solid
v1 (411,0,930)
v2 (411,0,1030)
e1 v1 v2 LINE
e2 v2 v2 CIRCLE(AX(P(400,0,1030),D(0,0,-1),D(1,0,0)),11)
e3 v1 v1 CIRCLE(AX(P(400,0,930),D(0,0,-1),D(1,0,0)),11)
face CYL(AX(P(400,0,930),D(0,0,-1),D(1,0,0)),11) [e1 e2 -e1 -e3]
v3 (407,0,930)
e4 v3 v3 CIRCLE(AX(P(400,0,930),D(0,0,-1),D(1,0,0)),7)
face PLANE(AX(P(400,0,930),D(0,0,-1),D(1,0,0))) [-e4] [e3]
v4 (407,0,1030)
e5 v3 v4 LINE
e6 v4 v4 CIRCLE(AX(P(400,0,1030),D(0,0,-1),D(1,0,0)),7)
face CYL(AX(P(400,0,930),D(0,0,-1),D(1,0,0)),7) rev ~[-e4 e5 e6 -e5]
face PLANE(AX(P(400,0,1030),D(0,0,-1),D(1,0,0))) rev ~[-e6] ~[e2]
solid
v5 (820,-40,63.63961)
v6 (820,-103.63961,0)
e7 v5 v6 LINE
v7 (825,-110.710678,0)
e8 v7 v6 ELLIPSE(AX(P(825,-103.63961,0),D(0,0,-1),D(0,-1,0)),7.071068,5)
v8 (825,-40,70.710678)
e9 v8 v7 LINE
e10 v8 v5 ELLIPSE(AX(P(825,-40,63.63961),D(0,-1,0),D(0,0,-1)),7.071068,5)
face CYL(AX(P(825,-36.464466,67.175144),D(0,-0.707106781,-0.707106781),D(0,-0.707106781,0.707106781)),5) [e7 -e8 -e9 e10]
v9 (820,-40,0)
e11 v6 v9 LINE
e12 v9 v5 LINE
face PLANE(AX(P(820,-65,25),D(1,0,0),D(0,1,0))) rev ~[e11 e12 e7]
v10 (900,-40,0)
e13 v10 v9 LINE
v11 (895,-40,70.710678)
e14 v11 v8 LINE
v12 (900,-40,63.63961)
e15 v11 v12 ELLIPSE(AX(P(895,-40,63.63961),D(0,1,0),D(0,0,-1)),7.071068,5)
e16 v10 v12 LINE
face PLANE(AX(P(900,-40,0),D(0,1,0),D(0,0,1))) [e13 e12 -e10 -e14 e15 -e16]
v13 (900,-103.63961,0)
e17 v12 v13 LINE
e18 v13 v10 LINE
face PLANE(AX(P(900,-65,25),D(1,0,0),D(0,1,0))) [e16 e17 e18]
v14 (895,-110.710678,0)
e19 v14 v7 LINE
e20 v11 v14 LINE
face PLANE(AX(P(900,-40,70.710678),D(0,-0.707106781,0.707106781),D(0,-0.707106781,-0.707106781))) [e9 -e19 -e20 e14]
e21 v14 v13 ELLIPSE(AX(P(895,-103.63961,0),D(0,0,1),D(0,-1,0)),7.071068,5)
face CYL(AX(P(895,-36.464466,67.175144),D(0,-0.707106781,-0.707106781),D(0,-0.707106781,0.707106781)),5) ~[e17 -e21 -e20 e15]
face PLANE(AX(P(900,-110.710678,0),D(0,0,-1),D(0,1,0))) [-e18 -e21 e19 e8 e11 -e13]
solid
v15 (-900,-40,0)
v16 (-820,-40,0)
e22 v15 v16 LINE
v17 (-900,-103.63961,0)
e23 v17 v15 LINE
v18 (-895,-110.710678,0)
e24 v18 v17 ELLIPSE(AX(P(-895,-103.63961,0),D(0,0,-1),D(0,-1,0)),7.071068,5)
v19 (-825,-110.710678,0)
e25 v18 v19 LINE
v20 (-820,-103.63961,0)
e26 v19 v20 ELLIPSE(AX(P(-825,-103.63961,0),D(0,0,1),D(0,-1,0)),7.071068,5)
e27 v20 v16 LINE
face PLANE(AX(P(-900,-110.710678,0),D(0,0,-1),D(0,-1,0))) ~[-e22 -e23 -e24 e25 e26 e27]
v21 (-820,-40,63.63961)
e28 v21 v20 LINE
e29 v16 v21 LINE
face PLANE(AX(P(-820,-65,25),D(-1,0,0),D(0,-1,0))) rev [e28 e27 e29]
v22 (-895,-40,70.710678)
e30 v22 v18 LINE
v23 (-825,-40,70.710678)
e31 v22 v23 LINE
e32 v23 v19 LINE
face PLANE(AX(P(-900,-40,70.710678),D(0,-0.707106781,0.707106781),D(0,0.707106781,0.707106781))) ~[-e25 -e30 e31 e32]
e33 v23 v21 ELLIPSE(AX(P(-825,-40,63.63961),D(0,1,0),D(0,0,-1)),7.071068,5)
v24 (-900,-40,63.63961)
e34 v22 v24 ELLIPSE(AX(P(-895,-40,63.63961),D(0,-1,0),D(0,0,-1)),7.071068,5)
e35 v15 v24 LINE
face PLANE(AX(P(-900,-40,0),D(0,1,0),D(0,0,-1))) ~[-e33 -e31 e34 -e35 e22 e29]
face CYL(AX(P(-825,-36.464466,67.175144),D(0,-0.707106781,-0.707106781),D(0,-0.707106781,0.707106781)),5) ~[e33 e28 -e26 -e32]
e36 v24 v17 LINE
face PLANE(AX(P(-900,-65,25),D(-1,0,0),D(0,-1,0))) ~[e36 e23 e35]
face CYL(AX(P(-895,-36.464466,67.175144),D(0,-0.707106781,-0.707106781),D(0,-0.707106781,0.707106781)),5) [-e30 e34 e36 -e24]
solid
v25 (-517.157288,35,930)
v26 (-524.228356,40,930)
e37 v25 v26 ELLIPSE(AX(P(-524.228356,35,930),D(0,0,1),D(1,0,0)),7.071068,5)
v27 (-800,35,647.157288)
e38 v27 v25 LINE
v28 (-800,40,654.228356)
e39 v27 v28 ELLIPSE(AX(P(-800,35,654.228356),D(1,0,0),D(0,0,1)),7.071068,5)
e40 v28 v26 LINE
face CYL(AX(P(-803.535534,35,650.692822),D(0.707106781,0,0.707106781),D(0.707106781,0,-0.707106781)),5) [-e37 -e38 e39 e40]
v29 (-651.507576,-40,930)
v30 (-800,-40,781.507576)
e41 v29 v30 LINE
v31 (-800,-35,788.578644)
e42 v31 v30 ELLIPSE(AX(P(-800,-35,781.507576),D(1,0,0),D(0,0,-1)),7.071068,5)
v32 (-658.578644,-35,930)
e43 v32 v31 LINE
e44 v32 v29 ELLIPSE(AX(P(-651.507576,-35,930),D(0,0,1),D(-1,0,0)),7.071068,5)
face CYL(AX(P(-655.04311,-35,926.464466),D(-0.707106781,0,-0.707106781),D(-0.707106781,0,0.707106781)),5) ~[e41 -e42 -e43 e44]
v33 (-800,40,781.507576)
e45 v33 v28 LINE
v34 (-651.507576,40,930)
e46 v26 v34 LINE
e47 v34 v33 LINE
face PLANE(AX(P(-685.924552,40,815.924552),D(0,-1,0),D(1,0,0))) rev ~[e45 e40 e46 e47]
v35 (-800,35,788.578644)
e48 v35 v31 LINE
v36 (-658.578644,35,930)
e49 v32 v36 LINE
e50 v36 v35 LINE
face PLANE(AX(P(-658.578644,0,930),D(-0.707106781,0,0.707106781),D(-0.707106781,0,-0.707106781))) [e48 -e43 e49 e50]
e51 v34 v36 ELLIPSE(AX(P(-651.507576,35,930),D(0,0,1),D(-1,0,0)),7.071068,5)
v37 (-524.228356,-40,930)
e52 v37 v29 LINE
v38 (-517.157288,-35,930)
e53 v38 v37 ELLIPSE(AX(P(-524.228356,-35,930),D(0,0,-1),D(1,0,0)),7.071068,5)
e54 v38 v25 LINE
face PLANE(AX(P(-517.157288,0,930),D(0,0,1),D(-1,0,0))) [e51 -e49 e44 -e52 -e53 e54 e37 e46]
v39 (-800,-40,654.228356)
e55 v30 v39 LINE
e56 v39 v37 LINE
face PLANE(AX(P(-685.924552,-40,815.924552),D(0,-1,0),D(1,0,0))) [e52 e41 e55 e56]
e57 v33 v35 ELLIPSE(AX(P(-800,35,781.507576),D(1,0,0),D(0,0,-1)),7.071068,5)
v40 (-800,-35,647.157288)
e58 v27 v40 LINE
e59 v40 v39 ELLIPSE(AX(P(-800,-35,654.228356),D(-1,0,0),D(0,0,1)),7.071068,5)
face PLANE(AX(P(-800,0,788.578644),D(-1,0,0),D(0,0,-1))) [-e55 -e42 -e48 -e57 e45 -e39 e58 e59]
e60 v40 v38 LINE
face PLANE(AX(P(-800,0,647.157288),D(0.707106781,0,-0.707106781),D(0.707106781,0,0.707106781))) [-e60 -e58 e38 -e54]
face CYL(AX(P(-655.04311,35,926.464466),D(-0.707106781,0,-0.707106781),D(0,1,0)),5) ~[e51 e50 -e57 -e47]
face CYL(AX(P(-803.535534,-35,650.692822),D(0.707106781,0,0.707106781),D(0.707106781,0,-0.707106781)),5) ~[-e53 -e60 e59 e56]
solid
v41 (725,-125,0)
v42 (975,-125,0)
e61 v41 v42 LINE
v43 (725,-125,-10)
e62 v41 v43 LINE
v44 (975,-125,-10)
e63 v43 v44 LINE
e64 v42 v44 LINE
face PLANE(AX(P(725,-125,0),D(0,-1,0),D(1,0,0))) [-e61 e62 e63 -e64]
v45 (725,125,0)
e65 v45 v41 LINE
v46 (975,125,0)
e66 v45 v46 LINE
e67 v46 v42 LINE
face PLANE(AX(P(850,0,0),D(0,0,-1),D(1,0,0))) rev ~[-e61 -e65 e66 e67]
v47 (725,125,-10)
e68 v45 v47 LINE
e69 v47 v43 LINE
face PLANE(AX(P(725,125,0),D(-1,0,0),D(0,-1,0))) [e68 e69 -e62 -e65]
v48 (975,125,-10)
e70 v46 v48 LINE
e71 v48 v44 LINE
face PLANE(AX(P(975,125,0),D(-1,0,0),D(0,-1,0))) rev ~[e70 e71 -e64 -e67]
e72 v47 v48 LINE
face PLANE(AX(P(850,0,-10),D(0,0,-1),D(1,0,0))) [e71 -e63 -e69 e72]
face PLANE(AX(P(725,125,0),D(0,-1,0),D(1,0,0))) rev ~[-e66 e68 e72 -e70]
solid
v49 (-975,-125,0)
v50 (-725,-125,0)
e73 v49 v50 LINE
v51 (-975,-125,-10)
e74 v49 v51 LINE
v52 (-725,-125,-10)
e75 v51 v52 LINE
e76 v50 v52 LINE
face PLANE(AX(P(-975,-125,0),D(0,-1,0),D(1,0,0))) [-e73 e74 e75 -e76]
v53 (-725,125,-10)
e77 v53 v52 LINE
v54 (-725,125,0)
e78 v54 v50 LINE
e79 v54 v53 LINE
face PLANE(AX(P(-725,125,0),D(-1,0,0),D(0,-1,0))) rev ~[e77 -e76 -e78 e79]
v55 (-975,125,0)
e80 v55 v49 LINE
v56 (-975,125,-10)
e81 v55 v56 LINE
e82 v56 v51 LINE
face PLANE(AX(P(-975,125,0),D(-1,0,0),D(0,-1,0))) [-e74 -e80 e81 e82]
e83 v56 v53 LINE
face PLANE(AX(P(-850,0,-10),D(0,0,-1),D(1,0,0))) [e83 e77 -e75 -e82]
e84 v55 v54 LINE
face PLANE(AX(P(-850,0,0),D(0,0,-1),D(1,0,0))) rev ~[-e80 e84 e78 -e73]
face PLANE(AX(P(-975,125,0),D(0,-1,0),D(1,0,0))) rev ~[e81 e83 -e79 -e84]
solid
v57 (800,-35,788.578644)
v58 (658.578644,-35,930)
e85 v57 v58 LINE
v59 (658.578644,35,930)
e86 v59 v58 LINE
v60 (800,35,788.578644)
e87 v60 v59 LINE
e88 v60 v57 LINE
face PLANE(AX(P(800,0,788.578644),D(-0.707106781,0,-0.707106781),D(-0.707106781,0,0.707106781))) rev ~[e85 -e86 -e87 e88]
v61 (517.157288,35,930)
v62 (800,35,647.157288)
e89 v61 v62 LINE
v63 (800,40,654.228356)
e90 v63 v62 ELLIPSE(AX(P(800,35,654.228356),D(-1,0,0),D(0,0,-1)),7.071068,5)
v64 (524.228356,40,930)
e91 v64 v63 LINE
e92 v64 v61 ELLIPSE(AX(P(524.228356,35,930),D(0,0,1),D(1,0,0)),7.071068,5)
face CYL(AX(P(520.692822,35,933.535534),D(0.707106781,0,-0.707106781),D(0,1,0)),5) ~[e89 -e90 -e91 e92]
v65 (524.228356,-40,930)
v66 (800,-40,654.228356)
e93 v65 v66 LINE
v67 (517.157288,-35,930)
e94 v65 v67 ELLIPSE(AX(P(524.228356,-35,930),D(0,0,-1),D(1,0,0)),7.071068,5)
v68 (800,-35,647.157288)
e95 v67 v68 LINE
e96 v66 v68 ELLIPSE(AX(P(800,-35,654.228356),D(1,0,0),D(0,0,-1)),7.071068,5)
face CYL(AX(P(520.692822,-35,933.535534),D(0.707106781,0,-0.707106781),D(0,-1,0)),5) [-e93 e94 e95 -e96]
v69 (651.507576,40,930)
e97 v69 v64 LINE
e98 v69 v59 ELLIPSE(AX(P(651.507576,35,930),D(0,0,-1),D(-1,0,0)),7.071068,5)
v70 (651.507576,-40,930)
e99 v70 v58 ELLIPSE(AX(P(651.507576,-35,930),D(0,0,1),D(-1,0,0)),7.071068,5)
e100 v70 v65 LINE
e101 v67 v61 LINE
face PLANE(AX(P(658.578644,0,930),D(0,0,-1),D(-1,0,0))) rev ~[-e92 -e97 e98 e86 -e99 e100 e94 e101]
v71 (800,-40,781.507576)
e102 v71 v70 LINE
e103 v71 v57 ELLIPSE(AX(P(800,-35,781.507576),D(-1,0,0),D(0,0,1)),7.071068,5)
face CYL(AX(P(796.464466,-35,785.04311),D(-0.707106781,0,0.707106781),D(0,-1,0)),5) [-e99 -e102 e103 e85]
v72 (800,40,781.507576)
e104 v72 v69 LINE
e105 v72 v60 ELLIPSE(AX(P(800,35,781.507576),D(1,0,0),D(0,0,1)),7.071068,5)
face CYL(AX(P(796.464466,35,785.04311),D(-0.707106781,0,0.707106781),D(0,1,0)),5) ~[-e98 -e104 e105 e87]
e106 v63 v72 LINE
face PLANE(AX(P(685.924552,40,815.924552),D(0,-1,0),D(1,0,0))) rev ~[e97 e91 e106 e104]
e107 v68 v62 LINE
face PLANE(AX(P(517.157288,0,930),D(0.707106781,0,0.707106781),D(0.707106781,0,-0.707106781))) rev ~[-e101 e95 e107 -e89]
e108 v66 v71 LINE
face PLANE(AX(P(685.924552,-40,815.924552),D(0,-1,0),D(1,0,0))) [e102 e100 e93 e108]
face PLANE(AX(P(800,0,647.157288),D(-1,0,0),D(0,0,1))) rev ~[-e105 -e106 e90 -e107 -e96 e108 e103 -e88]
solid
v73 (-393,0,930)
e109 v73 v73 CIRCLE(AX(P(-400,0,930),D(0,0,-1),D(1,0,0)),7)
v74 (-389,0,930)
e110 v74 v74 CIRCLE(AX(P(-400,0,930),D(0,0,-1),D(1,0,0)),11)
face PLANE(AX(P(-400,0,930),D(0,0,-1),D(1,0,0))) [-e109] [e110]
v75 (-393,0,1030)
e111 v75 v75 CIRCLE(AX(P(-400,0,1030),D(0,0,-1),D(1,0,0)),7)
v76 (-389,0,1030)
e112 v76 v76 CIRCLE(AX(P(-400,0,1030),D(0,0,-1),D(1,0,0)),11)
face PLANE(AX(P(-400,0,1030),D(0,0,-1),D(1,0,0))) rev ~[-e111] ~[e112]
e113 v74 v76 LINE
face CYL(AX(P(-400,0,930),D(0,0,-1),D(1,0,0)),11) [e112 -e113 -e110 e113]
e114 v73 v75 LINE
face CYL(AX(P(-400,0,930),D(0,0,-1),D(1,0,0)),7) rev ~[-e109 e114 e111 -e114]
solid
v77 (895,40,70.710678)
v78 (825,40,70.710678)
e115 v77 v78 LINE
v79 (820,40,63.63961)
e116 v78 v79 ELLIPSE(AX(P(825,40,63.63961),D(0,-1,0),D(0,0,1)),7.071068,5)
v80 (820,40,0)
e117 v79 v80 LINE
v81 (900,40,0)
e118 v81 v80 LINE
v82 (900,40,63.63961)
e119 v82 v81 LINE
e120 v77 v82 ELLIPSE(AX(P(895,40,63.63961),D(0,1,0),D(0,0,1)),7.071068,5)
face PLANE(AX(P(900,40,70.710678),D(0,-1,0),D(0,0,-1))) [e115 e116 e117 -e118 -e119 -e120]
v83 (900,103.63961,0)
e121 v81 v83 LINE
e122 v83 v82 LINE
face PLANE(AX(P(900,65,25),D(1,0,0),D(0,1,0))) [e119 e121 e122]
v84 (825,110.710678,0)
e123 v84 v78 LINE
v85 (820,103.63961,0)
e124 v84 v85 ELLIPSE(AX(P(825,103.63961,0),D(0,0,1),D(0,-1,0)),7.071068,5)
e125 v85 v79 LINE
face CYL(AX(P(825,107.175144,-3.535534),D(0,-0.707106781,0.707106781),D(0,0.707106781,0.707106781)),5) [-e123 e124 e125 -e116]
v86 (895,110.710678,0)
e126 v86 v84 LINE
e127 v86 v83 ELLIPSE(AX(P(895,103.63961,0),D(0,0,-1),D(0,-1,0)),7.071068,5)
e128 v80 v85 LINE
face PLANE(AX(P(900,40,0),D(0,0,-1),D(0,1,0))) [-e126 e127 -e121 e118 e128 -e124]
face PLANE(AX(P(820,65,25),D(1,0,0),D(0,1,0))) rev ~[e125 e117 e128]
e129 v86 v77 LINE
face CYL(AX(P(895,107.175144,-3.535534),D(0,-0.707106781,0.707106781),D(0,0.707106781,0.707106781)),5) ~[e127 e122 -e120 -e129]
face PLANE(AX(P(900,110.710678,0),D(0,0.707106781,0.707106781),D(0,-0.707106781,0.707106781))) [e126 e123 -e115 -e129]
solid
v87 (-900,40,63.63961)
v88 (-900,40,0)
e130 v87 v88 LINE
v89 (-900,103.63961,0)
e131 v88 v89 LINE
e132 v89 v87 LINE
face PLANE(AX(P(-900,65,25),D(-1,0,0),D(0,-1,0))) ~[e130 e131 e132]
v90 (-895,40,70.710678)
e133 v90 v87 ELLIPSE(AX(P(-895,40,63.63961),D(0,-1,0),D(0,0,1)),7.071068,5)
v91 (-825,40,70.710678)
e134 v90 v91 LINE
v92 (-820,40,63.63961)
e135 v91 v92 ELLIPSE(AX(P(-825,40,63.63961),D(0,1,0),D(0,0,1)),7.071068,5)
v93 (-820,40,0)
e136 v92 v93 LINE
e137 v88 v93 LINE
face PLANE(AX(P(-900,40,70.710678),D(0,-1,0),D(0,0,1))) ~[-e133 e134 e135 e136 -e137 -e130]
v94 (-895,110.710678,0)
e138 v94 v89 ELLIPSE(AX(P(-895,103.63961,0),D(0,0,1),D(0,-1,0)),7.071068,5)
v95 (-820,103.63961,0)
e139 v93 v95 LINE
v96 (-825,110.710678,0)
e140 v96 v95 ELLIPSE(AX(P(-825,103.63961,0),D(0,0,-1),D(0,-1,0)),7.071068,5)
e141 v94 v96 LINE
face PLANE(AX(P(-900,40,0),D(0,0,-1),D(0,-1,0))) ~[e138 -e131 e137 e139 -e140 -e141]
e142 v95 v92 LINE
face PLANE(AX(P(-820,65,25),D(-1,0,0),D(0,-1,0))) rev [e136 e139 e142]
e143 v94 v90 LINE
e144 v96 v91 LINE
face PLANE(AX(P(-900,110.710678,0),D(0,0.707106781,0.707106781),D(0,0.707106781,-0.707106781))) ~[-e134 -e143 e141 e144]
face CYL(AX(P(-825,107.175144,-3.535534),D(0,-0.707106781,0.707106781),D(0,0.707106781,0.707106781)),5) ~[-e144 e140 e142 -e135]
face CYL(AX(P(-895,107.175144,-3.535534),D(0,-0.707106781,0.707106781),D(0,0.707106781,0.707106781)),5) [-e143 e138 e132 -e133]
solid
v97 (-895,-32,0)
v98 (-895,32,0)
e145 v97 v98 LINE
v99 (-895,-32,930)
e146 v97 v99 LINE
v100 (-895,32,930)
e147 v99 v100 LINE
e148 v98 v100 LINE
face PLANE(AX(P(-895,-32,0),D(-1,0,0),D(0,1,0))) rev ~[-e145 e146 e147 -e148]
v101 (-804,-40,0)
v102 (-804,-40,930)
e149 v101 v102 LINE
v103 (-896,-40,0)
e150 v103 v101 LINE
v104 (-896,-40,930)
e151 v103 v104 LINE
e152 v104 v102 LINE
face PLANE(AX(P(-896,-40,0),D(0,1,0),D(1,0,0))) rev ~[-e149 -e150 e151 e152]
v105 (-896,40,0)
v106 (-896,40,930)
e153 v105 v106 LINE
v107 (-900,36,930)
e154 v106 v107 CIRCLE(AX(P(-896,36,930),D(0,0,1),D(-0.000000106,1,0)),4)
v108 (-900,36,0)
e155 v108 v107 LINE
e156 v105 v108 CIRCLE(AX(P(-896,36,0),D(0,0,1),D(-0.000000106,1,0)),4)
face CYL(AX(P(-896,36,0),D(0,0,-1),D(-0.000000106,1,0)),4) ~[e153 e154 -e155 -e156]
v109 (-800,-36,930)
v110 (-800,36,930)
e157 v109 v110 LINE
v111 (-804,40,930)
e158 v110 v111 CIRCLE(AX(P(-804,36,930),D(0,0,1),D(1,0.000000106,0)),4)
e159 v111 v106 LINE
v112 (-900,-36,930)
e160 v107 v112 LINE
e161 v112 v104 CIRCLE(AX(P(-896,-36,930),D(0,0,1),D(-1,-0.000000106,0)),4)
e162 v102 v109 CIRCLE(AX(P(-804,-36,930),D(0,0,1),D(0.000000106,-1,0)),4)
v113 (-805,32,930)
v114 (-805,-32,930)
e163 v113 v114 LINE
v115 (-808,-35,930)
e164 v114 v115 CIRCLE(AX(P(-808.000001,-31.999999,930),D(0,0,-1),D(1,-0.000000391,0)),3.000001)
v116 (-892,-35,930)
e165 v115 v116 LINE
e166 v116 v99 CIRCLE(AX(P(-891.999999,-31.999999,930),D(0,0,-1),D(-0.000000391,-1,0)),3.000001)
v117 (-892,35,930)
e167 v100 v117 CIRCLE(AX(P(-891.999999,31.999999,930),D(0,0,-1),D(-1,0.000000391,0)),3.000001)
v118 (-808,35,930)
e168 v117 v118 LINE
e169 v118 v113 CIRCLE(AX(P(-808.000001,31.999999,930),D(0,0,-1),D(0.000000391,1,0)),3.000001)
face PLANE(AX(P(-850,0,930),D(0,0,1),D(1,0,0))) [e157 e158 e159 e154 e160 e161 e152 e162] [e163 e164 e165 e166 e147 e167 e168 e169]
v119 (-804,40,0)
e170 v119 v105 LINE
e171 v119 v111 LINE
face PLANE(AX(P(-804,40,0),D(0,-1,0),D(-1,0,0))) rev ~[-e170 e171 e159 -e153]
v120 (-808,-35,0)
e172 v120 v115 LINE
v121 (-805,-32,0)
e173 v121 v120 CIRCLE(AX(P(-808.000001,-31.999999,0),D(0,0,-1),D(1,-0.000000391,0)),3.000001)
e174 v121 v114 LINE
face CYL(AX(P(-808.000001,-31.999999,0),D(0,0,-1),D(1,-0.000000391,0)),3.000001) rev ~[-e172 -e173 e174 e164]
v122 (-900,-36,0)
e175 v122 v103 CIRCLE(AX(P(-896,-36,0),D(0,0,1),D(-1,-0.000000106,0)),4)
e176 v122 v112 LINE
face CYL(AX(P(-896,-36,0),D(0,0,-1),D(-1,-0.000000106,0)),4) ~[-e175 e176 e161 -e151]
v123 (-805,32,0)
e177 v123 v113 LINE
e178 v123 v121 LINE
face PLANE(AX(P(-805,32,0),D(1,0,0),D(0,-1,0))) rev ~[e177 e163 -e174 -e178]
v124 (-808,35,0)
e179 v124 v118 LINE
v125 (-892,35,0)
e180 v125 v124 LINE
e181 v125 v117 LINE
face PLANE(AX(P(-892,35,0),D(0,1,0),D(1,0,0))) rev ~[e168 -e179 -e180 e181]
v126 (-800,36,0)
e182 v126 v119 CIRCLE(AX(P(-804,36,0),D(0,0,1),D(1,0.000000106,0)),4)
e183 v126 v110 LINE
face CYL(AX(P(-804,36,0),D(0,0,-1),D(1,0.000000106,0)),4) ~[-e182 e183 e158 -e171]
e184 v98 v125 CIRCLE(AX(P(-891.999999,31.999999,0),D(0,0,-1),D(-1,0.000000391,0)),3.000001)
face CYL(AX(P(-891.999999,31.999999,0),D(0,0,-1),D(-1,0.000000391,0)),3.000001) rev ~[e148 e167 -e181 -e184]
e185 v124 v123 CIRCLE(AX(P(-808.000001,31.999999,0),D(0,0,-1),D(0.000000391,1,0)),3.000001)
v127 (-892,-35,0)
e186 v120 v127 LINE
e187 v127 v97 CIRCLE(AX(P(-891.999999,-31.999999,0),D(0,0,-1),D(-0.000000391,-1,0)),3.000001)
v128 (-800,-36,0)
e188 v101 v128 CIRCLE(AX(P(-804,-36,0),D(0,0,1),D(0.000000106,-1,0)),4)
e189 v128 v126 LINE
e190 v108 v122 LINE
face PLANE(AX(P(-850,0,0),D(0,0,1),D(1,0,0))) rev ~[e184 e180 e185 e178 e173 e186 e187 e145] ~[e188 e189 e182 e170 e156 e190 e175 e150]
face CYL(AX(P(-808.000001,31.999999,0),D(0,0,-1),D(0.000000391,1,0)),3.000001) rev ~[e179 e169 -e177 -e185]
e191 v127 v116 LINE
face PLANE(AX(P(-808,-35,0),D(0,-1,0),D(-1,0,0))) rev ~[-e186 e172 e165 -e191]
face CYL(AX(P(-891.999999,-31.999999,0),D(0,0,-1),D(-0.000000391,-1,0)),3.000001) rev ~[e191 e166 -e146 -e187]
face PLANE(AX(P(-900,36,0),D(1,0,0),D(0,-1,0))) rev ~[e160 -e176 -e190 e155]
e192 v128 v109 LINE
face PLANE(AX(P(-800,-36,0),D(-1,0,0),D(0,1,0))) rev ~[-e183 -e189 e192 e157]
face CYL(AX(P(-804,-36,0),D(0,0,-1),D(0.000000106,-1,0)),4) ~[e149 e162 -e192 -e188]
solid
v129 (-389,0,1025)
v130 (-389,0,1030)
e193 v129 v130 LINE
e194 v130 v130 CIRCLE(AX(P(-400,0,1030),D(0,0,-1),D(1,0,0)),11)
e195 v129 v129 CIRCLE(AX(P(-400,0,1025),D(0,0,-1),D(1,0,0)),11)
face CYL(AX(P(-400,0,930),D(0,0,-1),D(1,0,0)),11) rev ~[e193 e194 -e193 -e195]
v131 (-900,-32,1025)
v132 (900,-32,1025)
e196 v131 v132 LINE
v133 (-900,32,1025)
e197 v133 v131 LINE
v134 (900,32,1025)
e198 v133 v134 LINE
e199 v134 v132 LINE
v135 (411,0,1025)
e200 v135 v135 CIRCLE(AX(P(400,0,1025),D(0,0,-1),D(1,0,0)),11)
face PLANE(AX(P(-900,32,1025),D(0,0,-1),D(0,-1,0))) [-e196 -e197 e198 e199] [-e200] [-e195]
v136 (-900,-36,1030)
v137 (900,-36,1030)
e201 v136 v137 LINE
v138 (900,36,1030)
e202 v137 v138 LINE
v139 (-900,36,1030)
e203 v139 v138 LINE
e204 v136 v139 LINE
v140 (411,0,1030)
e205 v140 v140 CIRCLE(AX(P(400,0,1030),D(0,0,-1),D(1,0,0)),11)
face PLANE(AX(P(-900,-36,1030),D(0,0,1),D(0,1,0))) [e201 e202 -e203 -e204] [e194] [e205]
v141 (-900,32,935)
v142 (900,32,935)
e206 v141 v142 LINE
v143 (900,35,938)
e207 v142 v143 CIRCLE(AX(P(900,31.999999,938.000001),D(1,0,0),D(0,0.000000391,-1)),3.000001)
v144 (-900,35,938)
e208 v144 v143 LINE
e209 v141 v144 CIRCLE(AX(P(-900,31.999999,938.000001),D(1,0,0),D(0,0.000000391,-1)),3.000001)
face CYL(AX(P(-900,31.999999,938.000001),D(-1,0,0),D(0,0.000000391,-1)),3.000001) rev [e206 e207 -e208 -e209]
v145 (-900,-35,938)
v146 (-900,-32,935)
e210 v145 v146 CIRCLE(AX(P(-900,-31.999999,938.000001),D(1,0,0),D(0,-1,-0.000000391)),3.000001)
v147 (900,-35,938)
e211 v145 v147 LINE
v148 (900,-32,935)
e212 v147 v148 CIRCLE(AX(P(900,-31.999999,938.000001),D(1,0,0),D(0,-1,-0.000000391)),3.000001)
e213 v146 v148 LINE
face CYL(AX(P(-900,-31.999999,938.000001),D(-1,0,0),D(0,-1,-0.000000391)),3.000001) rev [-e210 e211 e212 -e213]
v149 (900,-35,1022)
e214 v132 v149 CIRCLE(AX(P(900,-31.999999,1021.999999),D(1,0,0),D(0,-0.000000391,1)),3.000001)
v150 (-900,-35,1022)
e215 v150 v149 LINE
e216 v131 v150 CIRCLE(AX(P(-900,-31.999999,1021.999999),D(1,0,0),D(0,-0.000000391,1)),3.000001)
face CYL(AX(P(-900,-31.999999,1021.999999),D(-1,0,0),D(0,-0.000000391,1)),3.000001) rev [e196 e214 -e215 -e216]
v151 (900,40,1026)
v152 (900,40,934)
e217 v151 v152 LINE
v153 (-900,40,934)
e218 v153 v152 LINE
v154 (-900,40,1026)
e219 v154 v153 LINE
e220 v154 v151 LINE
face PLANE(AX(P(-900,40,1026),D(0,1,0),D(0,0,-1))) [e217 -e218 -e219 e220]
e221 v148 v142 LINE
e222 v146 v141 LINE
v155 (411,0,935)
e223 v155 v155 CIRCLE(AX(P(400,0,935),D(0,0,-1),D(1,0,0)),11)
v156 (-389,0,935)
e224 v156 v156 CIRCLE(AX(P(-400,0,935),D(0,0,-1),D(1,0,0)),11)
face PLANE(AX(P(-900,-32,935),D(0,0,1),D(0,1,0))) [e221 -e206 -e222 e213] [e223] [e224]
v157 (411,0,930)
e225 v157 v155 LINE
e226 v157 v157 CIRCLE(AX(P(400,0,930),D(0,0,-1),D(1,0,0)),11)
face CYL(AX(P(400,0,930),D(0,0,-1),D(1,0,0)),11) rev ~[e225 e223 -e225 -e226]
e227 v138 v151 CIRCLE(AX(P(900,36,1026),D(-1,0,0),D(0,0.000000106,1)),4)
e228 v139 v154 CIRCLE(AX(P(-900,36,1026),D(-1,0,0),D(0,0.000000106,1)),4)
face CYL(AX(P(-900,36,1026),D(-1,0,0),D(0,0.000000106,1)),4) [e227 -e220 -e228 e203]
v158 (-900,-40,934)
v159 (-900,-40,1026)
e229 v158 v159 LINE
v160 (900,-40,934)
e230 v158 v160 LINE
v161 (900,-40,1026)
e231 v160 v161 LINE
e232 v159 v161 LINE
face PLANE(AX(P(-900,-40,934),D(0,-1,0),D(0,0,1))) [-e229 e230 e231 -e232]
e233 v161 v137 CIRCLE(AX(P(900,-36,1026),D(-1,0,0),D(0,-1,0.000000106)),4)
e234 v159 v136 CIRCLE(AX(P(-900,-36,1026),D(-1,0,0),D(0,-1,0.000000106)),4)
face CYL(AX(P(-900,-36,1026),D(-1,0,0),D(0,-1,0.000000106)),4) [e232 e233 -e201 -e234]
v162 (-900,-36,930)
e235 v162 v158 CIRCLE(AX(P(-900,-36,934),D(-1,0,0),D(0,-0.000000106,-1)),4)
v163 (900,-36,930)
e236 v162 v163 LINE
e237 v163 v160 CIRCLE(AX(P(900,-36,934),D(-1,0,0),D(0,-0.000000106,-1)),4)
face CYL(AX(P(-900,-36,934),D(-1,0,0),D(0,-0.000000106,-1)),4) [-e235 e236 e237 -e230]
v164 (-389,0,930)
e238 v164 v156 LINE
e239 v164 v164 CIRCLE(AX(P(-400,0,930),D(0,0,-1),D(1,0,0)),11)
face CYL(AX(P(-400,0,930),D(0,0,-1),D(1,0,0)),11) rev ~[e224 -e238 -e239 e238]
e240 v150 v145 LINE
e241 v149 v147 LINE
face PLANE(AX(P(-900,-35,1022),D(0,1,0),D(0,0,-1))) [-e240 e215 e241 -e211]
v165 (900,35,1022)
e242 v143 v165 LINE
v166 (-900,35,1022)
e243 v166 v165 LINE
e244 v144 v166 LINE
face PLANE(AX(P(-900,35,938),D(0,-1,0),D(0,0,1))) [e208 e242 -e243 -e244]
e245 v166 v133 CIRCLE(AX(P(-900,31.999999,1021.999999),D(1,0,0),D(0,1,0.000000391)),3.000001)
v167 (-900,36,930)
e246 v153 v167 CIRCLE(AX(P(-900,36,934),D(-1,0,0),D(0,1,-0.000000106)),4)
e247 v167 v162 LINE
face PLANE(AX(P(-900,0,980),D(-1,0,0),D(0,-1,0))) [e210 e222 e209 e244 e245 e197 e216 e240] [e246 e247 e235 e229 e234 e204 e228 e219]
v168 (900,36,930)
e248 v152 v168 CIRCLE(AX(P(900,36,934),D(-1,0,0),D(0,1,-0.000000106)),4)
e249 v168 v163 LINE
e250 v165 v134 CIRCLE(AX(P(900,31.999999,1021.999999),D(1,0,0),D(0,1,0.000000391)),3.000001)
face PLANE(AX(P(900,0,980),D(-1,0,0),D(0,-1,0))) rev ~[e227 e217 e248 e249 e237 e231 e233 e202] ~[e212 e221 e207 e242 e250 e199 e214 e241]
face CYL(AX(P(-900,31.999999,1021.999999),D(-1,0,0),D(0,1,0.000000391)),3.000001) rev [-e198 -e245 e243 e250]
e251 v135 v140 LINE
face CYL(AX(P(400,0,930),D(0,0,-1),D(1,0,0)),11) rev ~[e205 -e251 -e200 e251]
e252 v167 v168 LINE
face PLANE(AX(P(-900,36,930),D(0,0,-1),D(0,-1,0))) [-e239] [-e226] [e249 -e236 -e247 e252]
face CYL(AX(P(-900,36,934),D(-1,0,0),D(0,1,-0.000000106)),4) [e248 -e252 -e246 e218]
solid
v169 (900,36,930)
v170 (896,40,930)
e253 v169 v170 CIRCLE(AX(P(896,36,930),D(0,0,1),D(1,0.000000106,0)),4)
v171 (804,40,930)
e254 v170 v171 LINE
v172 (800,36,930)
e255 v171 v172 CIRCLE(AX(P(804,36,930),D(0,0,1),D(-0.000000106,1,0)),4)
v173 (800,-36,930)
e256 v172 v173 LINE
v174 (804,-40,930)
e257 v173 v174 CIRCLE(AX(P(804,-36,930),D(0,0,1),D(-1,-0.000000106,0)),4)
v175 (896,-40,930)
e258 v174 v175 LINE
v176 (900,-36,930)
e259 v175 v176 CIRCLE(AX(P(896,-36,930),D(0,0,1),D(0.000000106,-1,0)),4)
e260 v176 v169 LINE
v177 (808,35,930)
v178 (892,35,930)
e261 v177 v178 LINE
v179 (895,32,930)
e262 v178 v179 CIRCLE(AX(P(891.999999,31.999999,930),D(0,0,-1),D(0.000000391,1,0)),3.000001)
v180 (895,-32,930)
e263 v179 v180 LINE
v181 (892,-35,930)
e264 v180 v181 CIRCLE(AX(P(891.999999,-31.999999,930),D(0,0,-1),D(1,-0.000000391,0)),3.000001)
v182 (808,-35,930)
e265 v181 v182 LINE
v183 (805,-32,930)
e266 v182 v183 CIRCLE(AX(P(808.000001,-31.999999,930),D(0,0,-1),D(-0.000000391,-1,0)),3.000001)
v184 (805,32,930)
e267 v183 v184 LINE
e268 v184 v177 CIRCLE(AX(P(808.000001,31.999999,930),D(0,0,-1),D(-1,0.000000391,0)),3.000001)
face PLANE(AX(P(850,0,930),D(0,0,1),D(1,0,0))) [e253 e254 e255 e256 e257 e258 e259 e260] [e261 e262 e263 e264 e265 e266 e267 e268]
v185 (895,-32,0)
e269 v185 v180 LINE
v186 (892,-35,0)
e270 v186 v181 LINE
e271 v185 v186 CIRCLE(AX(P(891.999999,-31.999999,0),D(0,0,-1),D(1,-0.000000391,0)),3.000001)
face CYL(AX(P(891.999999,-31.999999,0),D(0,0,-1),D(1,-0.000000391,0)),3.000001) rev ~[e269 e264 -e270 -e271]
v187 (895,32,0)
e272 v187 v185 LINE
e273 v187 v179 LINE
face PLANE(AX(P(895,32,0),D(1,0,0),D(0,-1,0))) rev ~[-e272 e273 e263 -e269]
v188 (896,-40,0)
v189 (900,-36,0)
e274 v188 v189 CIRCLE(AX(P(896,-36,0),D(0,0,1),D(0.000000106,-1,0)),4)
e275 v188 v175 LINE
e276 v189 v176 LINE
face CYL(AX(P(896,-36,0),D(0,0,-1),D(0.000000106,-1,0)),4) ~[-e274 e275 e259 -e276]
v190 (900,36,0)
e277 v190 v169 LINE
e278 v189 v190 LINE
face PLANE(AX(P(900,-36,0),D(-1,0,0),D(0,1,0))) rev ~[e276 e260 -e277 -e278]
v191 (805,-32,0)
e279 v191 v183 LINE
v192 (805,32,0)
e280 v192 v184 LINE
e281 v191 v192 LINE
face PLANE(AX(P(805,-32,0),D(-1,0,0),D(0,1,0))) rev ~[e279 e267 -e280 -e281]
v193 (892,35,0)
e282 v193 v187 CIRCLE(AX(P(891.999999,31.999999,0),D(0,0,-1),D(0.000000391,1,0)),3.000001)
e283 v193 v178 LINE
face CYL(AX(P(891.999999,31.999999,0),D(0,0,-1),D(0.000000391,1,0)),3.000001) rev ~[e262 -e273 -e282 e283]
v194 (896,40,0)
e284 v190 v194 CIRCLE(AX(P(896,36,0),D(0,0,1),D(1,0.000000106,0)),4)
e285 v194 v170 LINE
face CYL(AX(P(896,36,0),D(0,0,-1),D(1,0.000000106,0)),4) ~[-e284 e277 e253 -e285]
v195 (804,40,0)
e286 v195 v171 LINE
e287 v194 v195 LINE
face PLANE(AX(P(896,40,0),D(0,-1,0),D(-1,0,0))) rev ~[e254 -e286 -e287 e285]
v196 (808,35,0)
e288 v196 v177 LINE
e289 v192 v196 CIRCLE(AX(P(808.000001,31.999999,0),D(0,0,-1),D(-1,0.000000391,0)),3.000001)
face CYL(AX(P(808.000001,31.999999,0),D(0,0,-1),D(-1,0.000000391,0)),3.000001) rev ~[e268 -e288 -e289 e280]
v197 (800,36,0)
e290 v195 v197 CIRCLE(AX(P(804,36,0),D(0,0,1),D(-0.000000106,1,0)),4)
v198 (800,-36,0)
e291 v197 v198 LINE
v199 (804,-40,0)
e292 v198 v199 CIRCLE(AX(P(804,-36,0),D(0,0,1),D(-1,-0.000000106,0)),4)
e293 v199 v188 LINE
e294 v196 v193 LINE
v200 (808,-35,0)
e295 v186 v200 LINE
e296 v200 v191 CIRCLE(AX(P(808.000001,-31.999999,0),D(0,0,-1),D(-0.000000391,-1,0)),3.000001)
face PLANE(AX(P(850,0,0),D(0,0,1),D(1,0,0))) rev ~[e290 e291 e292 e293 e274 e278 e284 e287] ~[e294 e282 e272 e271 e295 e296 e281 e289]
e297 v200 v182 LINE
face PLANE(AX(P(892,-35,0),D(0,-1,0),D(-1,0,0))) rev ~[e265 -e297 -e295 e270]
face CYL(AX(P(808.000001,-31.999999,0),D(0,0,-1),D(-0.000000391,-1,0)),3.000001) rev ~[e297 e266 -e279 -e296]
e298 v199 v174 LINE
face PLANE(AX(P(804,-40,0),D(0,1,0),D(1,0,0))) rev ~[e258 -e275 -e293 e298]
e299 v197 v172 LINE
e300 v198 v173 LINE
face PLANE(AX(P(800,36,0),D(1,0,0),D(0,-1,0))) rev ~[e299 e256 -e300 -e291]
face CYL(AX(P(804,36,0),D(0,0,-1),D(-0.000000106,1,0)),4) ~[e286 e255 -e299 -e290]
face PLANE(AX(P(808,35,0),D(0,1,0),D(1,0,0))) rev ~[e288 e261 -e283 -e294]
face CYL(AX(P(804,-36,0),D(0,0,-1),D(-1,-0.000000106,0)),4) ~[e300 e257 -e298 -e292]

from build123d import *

# Parameters (mm, degrees)
F1_DEPTH  = 930
F3_DEPTH  = 1800
F5_DEPTH  = 40
F6_R      = 5
F7_W      = 250
F7_H      = 250
F8_DEPTH  = 10
F10_DEPTH = 80
F11_R     = 5
F13_R     = 11
F14_DEPTH = 100
F15_R     = 11
F15_R_2   = 7
F16_DEPTH = 100
F17_R     = 5
F18_R     = 5


with BuildPart() as f1:
    # F0 (on Top) → F1 (new body)
    with BuildSketch(Plane.XY):
        with BuildLine():
            Line((-896, -40), (-804, -40))
            ThreePointArc((-804, -40), (-801.171573, -38.828427), (-800, -36))
            Line((-800, -36), (-800, 36))
            ThreePointArc((-800, 36), (-801.171573, 38.828427), (-804, 40))
            Line((-804, 40), (-896, 40))
            ThreePointArc((-896, 40), (-898.828427, 38.828427), (-900, 36))
            Line((-900, 36), (-900, -36))
            ThreePointArc((-900, -36), (-898.828427, -38.828427), (-896, -40))
        make_face()
        with BuildLine():
            ThreePointArc((-805, -32), (-805.87868, -34.12132), (-808, -35))
            Line((-808, -35), (-892, -35))
            ThreePointArc((-892, -35), (-894.12132, -34.12132), (-895, -32))
            Line((-895, -32), (-895, 32))
            ThreePointArc((-895, 32), (-894.12132, 34.12132), (-892, 35))
            Line((-892, 35), (-808, 35))
            ThreePointArc((-808, 35), (-805.87868, 34.12132), (-805, 32))
            Line((-805, 32), (-805, -32))
        make_face(mode=Mode.SUBTRACT)
        with BuildLine():
            ThreePointArc((804, 40), (801.171573, 38.828427), (800, 36))
            Line((800, 36), (800, -36))
            ThreePointArc((800, -36), (801.171573, -38.828427), (804, -40))
            Line((804, -40), (896, -40))
            ThreePointArc((896, -40), (898.828427, -38.828427), (900, -36))
            Line((900, -36), (900, 36))
            ThreePointArc((900, 36), (898.828427, 38.828427), (896, 40))
            Line((896, 40), (804, 40))
        make_face()
        with BuildLine():
            Line((892, -35), (808, -35))
            ThreePointArc((808, -35), (805.87868, -34.12132), (805, -32))
            Line((805, -32), (805, 32))
            ThreePointArc((805, 32), (805.87868, 34.12132), (808, 35))
            Line((808, 35), (892, 35))
            ThreePointArc((892, 35), (894.12132, 34.12132), (895, 32))
            Line((895, 32), (895, -32))
            ThreePointArc((895, -32), (894.12132, -34.12132), (892, -35))
        make_face(mode=Mode.SUBTRACT)
    extrude(amount=F1_DEPTH)


with BuildPart() as f3:
    # F2 (on face) → F3 (new body)
    with BuildSketch(Plane(origin=(-900, 0, 0), x_dir=(0, -1, 0), z_dir=(-1, 0, 0))):
        with BuildLine():
            Line((-36, 930), (36, 930))
            ThreePointArc((36, 930), (38.828427, 931.171573), (40, 934))
            Line((40, 934), (40, 1026))
            ThreePointArc((40, 1026), (38.828427, 1028.828427), (36, 1030))
            Line((36, 1030), (-36, 1030))
            ThreePointArc((-36, 1030), (-38.828427, 1028.828427), (-40, 1026))
            Line((-40, 1026), (-40, 934))
            ThreePointArc((-40, 934), (-38.828427, 931.171573), (-36, 930))
        make_face()
        with BuildLine():
            ThreePointArc((35, 938), (34.12132, 935.87868), (32, 935))
            Line((32, 935), (-32, 935))
            ThreePointArc((-32, 935), (-34.12132, 935.87868), (-35, 938))
            Line((-35, 938), (-35, 1022))
            ThreePointArc((-35, 1022), (-34.12132, 1024.12132), (-32, 1025))
            Line((-32, 1025), (32, 1025))
            ThreePointArc((32, 1025), (34.12132, 1024.12132), (35, 1022))
            Line((35, 1022), (35, 938))
        make_face(mode=Mode.SUBTRACT)
    extrude(amount=-F3_DEPTH)

    # F13 (on face) → F14 (cut)
    with BuildSketch(Plane(origin=(0, 0, 930), x_dir=(1, 0, 0), z_dir=(0, 0, -1))):
        with Locations((-400, 0)):
            Circle(F13_R)
        with Locations((400, 0)):
            Circle(F13_R)
    extrude(amount=-F14_DEPTH, mode=Mode.SUBTRACT)


with BuildPart() as f5:
    # F4 (on Front) → F5 (new body, symmetric)
    with BuildSketch(Plane.XZ):
        Polygon((800, 647.157288), (800, 788.578644), (658.578644, 930), (517.157288, 930), align=None)
        Polygon((-658.578644, 930), (-800, 788.578644), (-800, 647.157288), (-517.157288, 930), align=None)
    extrude(amount=F5_DEPTH, both=True)

    # F6
    f6_edges = [f5.edges().sort_by_distance(p)[0] for p in [
        (658.578644, 40, 788.578644),
        (658.578644, -40, 788.578644),
        (-658.578644, 40, 788.578644),
        (-658.578644, -40, 788.578644),
    ]]
    fillet(f6_edges, radius=F6_R)

    # F17
    f17_edges = [f5.edges().sort_by_distance(p)[0] for p in [
        (-729.289322, -40, 859.289322),
        (-729.289322, 40, 859.289322),
    ]]
    fillet(f17_edges, radius=F17_R)

    # F18
    f18_edges = [f5.edges().sort_by_distance(p)[0] for p in [
        (729.289322, 40, 859.289322),
        (729.289322, -40, 859.289322),
    ]]
    fillet(f18_edges, radius=F18_R)


with BuildPart() as f8:
    # F7 (on face) → F8 (new body)
    with BuildSketch(Plane(origin=(0, 0, 0), x_dir=(1, 0, 0), z_dir=(0, 0, -1))):
        with Locations((850, 0)):
            Rectangle(F7_W, F7_H)
        with Locations((-850, 0)):
            Rectangle(F7_W, F7_H)
    extrude(amount=F8_DEPTH)


with BuildPart() as f10:
    # F9 (on face) → F10 (new body)
    with BuildSketch(Plane.YZ.offset(900)):
        Polygon((-40, 0), (-40, 70.710678), (-110.710678, 0), align=None)
        Polygon((110.710678, 0), (40, 70.710678), (40, 0), align=None)
    extrude(amount=-F10_DEPTH)

    # F11
    f11_edges = [f10.edges().sort_by_distance(p)[0] for p in [
        (900, 75.355339, 35.355339),
        (820, 75.355339, 35.355339),
        (900, -75.355339, 35.355339),
        (820, -75.355339, 35.355339),
    ]]
    fillet(f11_edges, radius=F11_R)


with BuildPart() as f12_1:
    # F12: instance of F10
    add(f10.part.mirror(Plane.YZ))


with BuildPart() as f16:
    # F15 (on face) → F16 (new body)
    with BuildSketch(Plane(origin=(0, 0, 930), x_dir=(1, 0, 0), z_dir=(0, 0, -1))):
        with Locations((-400, 0)):
            Circle(F15_R)
        with Locations((-400, 0)):
            Circle(F15_R_2, mode=Mode.SUBTRACT)
        with Locations((400, 0)):
            Circle(F15_R)
        with Locations((400, 0)):
            Circle(F15_R_2, mode=Mode.SUBTRACT)
    extrude(amount=-F16_DEPTH)


solid = Compound([f1.part, f3.part, f5.part, f8.part, f10.part, f12_1.part, f16.part])
